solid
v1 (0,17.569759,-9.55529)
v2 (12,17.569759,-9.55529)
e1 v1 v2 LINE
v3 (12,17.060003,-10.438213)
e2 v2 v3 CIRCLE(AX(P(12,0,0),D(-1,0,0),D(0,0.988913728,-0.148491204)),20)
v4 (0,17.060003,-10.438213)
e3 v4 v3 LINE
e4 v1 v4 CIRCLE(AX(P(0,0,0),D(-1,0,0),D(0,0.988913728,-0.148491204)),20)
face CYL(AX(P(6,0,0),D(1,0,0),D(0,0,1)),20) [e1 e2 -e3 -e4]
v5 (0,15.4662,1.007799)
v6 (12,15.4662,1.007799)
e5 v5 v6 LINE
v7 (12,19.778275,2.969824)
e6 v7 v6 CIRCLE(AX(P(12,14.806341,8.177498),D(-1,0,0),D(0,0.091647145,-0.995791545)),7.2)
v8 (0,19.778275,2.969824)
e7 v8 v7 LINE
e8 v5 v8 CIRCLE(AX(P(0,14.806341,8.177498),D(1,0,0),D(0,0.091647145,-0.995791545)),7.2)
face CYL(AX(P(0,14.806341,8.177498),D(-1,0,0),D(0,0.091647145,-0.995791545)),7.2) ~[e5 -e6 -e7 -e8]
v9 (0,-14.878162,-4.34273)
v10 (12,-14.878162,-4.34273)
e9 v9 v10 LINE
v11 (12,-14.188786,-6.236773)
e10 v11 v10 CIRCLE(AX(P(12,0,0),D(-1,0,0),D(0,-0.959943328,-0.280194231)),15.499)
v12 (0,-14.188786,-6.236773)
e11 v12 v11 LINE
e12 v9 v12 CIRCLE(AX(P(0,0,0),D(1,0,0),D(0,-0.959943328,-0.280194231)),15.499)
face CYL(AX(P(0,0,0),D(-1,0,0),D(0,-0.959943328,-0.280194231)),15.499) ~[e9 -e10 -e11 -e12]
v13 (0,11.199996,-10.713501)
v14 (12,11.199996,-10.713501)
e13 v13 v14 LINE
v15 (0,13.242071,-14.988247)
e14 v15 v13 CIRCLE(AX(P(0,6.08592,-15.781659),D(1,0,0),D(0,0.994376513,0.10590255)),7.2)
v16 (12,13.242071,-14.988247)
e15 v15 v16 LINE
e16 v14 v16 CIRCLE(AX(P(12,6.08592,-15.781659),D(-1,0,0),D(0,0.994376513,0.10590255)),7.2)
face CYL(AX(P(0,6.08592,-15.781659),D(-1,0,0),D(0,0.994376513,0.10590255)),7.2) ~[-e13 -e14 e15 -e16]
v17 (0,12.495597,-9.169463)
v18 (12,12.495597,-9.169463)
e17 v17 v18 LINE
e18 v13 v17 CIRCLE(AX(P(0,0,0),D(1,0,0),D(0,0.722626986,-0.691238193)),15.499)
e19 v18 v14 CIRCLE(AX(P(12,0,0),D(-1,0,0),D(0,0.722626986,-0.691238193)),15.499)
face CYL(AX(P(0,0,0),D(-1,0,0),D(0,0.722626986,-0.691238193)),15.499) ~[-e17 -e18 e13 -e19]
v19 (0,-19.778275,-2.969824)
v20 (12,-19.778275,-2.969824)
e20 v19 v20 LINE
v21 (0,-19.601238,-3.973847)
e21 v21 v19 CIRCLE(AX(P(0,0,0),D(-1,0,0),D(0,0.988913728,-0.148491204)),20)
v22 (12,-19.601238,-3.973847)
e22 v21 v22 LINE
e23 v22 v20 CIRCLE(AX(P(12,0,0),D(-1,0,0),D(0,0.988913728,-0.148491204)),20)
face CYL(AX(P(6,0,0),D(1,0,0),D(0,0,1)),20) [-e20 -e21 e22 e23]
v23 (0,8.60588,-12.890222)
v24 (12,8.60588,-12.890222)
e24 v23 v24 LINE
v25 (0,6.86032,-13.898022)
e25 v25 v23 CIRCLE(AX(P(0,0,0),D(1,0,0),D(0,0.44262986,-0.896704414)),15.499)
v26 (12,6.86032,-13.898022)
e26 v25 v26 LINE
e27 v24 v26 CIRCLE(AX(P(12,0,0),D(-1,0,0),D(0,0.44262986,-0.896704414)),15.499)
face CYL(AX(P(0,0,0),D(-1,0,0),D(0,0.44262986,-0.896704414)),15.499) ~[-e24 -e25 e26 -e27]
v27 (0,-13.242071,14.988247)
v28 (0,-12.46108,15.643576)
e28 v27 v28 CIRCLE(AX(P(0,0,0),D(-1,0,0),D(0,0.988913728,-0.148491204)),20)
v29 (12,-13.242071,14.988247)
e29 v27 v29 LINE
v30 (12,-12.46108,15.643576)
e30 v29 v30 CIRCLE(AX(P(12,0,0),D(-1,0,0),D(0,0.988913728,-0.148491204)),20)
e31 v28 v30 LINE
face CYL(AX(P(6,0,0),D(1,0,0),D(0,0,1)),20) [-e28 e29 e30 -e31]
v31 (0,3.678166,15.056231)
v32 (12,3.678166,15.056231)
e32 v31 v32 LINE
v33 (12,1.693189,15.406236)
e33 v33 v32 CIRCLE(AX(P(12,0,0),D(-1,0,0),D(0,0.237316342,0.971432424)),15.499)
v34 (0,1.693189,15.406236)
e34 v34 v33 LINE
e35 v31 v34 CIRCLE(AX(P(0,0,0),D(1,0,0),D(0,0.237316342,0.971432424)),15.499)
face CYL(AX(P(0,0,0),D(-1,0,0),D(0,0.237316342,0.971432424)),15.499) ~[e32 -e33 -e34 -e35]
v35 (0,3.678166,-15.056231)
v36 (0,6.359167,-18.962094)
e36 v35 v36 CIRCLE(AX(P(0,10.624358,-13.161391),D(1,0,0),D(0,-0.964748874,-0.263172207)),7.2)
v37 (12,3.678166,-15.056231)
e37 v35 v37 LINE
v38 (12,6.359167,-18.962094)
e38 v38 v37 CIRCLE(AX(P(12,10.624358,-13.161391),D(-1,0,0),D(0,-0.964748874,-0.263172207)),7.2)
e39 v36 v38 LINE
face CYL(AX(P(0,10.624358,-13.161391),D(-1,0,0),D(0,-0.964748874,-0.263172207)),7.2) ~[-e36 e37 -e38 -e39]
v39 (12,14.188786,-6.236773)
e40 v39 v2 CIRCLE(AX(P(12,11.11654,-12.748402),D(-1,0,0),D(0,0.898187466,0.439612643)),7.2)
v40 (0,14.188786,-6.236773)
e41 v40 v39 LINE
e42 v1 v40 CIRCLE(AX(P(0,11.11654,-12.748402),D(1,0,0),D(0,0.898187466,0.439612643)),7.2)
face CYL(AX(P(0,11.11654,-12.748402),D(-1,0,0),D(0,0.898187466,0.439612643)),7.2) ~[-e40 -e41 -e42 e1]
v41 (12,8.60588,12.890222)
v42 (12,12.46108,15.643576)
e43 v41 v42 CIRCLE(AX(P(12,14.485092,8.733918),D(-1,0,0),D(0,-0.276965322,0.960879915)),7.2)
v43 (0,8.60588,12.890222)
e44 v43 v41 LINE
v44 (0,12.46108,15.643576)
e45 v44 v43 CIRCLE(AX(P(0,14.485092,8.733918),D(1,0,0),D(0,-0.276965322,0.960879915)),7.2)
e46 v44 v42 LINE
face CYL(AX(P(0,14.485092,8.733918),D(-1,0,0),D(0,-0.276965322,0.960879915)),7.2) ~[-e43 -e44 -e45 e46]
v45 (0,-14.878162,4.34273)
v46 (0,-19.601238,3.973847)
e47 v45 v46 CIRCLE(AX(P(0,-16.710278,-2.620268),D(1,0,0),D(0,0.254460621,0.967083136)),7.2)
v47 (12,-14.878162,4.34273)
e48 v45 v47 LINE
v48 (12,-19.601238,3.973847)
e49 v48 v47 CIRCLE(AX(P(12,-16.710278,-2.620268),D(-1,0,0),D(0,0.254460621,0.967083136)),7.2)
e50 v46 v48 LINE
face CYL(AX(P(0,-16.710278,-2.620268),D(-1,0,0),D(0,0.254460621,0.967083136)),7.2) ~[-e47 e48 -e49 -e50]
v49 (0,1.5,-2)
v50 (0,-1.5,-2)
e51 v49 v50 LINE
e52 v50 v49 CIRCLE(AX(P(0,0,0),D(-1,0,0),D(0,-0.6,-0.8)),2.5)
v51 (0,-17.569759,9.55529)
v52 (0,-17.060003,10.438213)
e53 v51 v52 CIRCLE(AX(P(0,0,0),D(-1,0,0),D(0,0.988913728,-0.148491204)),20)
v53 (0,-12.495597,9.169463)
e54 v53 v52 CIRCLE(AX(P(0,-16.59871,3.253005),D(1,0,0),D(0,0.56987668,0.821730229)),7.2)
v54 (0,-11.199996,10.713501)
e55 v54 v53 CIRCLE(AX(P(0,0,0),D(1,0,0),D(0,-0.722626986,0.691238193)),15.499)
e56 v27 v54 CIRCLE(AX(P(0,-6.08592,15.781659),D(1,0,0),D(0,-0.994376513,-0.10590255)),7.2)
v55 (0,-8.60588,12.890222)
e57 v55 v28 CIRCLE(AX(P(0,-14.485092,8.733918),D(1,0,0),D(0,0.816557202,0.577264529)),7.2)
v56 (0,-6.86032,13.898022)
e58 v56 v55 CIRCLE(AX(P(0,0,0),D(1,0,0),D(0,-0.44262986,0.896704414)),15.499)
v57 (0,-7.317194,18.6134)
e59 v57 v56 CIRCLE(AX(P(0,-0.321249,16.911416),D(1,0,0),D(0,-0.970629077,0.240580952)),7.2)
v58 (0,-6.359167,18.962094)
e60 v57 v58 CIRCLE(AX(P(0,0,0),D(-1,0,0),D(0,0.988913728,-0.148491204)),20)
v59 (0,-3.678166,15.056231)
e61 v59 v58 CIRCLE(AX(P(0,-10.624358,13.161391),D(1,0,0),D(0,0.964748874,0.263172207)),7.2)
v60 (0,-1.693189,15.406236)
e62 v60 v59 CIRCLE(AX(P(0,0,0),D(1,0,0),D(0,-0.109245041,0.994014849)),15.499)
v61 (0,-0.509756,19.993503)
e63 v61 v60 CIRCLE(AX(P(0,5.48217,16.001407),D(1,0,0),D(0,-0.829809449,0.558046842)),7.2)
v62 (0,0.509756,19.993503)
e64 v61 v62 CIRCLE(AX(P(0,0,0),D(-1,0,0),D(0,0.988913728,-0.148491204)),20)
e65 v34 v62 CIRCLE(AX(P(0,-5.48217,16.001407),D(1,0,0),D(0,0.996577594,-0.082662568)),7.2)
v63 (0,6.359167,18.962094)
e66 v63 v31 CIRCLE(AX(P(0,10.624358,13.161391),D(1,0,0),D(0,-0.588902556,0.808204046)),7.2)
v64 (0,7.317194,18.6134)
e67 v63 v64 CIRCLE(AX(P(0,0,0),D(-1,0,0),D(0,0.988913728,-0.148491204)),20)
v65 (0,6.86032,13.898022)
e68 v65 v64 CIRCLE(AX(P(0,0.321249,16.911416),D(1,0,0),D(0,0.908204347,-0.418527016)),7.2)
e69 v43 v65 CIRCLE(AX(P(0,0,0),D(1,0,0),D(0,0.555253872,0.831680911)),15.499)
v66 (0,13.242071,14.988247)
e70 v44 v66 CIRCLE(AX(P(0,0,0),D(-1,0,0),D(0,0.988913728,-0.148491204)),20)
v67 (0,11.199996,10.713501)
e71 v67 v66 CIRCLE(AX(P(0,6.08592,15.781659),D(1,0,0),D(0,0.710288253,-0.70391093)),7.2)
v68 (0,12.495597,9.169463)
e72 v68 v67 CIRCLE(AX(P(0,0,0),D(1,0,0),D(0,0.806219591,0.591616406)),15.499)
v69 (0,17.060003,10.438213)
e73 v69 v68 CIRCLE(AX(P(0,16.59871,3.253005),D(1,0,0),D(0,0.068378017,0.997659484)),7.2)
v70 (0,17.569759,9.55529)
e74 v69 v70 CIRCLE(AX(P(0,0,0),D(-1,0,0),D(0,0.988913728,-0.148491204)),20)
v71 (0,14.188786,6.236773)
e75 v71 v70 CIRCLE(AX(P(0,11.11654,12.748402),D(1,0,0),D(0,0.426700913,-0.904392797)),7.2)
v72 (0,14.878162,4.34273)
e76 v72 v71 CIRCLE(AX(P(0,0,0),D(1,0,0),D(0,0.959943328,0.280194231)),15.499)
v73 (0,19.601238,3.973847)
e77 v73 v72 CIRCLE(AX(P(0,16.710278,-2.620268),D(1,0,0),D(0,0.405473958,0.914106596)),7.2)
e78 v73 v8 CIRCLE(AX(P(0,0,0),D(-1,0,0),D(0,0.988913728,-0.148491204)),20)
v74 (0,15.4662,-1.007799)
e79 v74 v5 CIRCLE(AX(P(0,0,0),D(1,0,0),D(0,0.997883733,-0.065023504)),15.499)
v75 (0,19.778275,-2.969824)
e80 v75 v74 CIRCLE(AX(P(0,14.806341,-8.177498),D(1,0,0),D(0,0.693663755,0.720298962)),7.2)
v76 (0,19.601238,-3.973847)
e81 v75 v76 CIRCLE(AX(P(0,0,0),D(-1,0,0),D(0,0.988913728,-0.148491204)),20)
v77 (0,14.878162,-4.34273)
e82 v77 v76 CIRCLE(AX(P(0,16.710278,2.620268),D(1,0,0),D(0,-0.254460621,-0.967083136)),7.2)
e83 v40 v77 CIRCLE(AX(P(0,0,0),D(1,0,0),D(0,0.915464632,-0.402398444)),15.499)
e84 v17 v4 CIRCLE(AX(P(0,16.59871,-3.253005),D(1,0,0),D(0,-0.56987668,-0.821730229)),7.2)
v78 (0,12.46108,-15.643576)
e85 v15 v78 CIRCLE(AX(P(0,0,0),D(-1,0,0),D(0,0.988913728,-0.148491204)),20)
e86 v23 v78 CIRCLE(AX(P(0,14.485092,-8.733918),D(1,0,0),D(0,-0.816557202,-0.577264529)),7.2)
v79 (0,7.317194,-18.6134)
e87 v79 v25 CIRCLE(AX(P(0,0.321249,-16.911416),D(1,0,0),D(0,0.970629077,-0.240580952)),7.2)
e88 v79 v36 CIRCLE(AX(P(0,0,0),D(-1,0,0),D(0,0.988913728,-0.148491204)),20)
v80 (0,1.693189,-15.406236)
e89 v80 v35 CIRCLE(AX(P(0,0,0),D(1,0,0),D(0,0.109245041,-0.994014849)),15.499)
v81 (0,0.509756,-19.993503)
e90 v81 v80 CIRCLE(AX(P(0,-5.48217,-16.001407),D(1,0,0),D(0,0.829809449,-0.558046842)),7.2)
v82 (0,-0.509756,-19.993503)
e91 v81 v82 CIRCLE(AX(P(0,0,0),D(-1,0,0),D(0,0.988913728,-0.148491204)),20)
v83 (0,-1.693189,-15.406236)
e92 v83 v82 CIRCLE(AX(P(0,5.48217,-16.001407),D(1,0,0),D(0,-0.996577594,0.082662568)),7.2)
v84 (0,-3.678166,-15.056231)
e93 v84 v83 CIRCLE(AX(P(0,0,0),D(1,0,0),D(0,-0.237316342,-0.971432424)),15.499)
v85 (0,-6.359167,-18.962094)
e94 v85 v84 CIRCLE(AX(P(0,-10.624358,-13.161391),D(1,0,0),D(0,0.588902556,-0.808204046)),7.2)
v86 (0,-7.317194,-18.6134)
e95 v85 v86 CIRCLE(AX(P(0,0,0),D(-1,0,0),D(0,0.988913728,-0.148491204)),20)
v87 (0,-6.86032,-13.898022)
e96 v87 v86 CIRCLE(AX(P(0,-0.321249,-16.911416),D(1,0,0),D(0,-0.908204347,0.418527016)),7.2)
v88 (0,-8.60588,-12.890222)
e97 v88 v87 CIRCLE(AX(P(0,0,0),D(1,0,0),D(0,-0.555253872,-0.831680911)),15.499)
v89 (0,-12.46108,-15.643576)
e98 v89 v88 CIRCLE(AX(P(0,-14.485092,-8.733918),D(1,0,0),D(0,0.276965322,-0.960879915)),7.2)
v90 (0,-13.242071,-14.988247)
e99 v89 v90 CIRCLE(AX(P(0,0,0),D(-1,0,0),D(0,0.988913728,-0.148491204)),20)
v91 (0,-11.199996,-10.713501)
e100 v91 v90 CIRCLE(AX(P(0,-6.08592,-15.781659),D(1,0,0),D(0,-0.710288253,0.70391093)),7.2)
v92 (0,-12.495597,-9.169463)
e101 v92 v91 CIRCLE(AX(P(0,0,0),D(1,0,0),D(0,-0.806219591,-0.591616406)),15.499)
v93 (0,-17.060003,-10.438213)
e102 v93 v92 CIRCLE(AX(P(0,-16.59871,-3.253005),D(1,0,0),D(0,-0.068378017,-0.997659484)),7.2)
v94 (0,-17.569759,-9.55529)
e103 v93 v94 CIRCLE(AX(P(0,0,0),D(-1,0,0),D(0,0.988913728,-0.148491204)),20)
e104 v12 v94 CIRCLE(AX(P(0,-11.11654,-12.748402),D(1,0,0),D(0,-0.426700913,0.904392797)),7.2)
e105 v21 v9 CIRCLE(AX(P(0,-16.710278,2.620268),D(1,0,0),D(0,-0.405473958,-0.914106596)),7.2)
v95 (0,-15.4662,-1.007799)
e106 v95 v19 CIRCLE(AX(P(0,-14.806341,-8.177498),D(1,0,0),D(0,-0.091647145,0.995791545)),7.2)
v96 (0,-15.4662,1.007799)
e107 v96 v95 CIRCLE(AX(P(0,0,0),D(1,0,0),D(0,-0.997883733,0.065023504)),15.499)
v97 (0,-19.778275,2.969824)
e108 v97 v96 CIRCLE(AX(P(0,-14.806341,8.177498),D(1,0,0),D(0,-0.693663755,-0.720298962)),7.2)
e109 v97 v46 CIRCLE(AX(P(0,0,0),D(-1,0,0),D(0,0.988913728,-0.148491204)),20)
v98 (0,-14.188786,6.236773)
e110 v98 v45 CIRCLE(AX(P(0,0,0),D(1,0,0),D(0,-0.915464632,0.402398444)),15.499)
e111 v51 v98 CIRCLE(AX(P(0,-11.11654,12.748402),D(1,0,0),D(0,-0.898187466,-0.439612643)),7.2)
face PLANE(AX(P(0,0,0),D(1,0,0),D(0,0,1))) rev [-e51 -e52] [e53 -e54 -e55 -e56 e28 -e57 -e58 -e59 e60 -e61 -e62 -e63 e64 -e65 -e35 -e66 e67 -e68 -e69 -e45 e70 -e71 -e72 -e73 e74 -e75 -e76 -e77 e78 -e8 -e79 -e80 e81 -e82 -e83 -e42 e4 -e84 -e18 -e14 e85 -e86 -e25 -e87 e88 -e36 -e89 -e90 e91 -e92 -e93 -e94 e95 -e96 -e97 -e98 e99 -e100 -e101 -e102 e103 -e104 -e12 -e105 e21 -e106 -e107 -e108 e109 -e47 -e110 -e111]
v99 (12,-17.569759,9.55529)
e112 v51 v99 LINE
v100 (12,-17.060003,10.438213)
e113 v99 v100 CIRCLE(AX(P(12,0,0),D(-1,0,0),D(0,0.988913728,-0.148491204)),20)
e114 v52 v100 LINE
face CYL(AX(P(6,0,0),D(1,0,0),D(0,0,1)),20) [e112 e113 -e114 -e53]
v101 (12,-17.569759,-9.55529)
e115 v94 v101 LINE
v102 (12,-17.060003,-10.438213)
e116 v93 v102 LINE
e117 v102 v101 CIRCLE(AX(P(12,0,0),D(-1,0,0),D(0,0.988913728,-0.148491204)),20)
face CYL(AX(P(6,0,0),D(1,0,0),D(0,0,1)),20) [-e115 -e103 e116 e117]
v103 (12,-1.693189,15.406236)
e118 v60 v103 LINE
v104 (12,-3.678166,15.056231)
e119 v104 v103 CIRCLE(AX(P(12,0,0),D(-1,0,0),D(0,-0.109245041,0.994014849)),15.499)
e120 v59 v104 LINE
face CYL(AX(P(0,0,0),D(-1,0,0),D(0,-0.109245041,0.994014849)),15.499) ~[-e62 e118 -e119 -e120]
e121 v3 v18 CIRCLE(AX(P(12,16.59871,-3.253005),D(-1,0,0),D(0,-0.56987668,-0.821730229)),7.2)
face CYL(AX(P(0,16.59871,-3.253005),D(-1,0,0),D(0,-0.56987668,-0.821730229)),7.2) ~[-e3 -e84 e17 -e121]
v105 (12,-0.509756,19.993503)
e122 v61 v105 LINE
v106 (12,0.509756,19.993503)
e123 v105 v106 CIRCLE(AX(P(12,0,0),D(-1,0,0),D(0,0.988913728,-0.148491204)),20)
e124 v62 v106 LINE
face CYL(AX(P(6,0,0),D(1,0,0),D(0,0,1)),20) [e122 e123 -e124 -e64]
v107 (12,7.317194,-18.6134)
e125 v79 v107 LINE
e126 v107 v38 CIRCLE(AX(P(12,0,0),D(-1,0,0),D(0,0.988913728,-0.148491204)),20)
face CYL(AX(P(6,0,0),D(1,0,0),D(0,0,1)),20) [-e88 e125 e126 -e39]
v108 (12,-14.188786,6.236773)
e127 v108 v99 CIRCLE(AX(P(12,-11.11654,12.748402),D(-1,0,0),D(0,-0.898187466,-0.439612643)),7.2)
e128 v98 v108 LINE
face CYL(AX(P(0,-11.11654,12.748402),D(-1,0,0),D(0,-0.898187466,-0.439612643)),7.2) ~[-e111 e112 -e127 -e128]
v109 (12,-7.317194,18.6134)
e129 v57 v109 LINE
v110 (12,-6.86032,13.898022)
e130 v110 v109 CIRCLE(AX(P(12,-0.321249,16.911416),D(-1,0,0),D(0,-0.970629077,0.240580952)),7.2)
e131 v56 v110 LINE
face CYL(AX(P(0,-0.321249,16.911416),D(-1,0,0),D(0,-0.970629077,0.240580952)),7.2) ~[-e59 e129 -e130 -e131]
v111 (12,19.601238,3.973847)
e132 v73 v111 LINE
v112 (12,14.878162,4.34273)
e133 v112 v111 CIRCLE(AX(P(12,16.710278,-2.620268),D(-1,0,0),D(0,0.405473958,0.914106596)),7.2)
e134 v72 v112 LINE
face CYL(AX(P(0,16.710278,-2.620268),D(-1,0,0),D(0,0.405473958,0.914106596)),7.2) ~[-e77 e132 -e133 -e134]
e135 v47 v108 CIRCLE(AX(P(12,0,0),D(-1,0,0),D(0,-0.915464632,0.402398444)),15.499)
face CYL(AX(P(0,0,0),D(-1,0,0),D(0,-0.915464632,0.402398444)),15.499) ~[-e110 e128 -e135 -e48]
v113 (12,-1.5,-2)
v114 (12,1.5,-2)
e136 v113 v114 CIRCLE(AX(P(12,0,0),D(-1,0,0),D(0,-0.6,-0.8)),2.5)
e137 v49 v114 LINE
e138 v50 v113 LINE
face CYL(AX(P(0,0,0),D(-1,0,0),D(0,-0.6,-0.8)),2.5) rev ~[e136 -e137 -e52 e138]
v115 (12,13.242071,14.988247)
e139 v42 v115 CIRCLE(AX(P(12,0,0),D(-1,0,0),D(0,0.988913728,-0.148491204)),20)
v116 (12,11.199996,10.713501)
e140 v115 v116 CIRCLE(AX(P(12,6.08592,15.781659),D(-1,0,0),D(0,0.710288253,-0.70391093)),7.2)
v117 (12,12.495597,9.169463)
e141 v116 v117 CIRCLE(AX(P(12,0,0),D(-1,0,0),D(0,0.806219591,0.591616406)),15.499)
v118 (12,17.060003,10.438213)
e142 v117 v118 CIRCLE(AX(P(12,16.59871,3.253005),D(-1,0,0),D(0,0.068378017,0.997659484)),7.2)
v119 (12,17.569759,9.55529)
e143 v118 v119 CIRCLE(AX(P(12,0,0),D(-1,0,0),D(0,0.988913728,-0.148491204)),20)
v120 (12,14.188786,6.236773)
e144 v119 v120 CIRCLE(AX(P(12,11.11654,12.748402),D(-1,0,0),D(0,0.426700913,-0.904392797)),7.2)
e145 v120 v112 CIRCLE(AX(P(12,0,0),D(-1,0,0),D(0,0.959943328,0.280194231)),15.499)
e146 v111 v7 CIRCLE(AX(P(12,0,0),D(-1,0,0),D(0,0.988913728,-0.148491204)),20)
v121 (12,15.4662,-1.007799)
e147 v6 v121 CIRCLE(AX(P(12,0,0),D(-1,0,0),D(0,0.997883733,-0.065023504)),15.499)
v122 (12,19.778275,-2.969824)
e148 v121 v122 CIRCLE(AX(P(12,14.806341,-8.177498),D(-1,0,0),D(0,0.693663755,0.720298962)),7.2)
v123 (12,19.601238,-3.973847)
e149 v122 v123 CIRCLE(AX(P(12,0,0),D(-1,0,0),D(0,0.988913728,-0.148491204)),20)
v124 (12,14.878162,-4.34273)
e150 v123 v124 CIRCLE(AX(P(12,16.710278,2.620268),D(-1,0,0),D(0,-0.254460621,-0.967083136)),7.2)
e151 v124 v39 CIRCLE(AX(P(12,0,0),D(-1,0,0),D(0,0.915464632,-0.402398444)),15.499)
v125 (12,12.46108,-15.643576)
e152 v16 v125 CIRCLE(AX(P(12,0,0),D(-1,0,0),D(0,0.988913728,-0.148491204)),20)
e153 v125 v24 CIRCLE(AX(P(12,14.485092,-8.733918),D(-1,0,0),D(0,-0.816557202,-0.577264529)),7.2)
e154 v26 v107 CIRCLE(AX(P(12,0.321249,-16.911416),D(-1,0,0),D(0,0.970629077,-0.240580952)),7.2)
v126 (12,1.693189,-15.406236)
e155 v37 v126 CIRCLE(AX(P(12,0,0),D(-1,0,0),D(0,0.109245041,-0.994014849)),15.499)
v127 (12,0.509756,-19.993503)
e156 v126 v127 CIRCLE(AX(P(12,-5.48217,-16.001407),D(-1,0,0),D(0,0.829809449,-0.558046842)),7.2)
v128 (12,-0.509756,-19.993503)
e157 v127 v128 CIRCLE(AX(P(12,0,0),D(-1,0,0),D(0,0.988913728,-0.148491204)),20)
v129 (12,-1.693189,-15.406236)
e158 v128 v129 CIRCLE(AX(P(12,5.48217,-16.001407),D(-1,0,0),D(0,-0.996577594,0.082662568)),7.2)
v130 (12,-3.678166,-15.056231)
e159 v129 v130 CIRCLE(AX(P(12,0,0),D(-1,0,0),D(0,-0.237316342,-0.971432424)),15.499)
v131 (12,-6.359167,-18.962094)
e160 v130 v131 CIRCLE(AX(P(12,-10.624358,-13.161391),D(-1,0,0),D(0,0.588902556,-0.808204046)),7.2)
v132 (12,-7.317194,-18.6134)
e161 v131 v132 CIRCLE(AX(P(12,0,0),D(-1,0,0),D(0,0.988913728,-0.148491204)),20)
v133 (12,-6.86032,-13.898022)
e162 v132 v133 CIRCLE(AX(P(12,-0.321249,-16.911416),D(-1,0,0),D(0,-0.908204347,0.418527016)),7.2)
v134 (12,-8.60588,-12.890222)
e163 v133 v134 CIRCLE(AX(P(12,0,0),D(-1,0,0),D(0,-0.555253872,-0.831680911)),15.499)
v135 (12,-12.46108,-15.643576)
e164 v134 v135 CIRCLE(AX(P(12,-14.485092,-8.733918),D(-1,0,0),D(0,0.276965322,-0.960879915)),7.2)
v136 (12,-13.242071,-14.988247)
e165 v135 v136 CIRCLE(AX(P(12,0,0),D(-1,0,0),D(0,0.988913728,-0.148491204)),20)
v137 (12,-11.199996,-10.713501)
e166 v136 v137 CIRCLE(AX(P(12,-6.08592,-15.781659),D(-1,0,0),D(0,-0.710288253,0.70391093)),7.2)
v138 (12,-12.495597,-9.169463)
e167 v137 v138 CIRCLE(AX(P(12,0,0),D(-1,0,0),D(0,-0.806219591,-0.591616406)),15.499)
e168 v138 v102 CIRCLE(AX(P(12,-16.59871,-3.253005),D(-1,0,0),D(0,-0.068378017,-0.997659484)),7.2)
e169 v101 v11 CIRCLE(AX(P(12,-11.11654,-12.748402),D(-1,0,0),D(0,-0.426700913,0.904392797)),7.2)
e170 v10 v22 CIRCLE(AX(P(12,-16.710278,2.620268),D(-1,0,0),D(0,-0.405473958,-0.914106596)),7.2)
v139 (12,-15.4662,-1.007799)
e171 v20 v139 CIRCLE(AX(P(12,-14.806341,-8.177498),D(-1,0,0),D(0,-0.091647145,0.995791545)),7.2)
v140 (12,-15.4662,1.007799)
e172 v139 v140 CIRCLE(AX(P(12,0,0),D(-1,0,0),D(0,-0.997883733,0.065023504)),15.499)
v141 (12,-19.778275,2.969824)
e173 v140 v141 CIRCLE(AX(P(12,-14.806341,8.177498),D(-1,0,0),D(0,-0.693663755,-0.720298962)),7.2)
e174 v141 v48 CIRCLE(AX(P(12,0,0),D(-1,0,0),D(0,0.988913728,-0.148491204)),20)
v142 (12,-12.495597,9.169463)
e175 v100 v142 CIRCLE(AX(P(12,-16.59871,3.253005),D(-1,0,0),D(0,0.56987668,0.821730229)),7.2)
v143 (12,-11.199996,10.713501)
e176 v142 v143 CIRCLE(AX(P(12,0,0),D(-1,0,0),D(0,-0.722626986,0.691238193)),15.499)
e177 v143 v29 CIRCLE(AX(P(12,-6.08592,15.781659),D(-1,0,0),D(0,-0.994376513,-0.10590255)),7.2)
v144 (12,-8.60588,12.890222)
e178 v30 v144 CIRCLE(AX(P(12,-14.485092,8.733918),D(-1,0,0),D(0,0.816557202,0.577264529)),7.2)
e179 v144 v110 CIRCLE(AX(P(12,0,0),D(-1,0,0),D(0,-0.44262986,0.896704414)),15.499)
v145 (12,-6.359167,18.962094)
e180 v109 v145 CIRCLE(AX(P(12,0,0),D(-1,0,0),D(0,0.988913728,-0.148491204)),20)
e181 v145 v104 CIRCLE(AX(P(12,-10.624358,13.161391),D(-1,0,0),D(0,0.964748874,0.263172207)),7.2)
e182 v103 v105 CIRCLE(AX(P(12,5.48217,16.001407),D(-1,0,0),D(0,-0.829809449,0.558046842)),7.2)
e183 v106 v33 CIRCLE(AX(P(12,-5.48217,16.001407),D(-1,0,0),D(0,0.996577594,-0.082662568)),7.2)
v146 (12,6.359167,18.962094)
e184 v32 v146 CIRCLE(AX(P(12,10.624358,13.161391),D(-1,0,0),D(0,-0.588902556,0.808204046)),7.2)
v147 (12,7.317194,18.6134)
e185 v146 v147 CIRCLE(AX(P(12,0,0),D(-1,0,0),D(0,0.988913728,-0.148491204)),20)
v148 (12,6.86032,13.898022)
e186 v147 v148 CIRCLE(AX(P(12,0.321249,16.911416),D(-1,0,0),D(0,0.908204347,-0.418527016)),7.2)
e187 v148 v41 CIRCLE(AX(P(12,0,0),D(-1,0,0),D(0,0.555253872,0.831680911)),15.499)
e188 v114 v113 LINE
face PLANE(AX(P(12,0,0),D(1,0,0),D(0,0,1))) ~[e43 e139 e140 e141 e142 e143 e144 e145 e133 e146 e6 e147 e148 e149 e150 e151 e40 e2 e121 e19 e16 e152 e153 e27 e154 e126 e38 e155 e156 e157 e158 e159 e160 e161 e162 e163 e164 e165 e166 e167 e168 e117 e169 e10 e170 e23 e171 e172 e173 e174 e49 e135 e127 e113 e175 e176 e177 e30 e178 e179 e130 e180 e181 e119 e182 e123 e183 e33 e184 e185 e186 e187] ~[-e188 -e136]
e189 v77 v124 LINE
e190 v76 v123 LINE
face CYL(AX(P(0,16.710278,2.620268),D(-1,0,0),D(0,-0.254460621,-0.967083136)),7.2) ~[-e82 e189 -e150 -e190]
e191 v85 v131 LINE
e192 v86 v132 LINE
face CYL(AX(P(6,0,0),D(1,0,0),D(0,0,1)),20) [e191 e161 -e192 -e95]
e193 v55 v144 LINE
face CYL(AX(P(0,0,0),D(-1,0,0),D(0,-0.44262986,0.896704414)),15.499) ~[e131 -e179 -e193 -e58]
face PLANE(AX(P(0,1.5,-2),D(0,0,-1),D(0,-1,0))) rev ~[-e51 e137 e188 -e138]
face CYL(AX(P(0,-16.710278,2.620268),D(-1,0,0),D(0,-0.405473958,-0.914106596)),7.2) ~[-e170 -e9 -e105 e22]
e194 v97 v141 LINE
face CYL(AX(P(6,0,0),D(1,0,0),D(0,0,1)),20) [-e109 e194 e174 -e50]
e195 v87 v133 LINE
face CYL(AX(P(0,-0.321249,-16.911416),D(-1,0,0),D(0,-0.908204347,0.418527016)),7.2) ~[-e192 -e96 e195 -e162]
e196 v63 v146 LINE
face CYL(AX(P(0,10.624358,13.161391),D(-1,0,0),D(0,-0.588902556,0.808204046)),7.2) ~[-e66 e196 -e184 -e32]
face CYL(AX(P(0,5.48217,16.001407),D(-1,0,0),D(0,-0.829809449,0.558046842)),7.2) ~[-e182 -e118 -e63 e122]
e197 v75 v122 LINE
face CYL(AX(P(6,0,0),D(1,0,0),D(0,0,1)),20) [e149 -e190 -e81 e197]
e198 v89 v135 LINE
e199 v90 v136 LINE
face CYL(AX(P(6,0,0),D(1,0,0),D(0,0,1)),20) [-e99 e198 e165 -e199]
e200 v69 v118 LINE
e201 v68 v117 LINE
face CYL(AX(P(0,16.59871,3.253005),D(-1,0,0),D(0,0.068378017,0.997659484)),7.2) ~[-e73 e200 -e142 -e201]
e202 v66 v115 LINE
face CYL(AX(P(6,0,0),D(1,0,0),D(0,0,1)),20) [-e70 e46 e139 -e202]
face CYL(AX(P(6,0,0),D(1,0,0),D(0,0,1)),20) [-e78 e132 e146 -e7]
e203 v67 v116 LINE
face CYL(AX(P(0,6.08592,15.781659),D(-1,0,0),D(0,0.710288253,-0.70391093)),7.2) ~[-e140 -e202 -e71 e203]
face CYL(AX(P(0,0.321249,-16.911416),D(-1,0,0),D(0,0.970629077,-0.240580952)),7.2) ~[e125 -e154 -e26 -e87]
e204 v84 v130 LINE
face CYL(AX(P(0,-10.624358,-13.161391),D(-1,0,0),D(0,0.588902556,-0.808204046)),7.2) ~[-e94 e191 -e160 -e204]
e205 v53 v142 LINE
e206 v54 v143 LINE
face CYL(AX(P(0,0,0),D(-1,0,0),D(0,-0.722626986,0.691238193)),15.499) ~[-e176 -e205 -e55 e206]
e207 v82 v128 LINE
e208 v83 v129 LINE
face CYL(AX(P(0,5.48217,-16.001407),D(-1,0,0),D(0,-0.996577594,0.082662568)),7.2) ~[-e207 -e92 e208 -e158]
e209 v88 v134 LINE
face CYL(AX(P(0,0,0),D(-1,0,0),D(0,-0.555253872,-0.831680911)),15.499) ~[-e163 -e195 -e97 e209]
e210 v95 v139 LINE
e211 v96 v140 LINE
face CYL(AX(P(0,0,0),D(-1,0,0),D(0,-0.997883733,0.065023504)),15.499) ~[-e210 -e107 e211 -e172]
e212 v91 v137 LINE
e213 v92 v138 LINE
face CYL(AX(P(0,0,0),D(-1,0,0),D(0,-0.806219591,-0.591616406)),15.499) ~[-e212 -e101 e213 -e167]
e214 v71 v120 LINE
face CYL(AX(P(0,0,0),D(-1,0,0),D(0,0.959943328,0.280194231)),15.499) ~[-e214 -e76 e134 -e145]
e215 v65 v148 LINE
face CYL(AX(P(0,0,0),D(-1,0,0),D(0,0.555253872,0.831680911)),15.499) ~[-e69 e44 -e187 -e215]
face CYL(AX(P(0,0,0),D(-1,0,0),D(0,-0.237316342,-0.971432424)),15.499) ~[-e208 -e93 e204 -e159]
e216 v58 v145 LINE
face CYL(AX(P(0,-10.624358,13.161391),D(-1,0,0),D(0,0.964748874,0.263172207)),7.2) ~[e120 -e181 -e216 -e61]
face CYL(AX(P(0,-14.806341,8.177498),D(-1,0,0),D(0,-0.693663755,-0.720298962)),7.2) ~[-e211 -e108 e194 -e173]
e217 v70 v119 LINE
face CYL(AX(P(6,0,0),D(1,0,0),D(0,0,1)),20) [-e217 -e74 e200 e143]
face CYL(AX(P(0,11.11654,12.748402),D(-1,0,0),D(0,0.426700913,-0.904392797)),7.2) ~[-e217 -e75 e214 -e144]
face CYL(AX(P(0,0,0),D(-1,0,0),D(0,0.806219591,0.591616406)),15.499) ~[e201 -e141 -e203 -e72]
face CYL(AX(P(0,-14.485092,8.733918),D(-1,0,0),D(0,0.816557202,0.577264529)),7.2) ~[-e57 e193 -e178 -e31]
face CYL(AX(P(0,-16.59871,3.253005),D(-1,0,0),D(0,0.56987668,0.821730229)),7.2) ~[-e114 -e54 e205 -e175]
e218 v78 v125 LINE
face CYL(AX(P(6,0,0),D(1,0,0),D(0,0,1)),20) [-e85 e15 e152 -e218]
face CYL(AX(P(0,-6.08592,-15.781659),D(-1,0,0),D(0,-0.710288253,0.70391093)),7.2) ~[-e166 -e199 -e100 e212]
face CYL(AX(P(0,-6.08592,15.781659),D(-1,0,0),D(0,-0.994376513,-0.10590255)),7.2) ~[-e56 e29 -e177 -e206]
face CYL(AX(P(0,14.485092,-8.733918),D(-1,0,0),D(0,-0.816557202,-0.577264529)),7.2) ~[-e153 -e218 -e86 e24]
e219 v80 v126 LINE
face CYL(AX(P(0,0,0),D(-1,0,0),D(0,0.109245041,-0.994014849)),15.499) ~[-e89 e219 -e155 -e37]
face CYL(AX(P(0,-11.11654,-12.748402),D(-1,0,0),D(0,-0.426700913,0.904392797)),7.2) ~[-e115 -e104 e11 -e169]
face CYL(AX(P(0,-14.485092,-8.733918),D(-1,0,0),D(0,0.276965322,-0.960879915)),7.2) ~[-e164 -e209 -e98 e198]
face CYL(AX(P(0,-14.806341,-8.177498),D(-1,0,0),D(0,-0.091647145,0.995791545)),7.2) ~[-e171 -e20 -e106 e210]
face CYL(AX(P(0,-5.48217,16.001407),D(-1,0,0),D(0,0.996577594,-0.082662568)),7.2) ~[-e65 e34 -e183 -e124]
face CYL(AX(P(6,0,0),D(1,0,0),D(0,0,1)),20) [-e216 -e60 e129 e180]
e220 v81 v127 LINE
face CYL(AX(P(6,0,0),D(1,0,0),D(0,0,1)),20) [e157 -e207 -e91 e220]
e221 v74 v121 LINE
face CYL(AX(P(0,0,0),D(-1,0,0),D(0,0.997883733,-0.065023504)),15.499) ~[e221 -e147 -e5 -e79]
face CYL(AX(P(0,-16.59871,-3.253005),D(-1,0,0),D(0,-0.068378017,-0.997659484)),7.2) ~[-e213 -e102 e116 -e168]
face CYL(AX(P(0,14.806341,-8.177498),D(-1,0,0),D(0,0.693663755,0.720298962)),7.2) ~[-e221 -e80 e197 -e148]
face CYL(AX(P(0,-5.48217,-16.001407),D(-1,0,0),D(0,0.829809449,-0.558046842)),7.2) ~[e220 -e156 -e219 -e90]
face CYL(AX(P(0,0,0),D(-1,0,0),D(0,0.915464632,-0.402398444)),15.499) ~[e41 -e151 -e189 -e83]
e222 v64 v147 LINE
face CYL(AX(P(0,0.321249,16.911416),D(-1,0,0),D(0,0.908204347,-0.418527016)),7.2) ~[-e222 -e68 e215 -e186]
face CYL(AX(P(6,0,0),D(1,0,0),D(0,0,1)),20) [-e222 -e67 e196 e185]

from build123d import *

# Parameters (mm, degrees)
BASPROSKE_W              = 12
BASPROSKE_H              = 20
TOOTHCUT_DEPTH           = 31.724582991
TEETHCUTS_COUNT          = 18
TEETHCUTS_ANGLE          = 340
BORSKE_R                 = 0.1
BORE_DEPTH               = 50.0000508
TAGLIO_ESTRUSIONE1_DEPTH = 13


with BuildPart() as part:
    # BasProSke → Base-Revolve (revolve)
    with BuildSketch(Plane(origin=(0, 0, 0), x_dir=(1, 0, 0), z_dir=(0, 1, 0)), mode=Mode.PRIVATE) as base_revolve_sk:
        with Locations((6, 10)):
            Rectangle(BASPROSKE_W, BASPROSKE_H)
    revolve(base_revolve_sk.sketch.rotate(Axis((-10, 0, 0), (1, 0, 0)), 180), axis=Axis((-10, 0, 0), (1, 0, 0)))

    # TooCutSke → ToothCut (cut, through all)
    with BuildSketch(Plane(origin=(0, 0, 0), x_dir=(0, 0, -1), z_dir=(1, 0, 0))):
        with BuildLine():
            ThreePointArc((1.007799284, 15.466199973), (0, 15.499), (-1.007799284, 15.466199973))
            ThreePointArc((-1.007799284, 15.466199973), (-1.630454606, 17.802374148), (-2.991345877, 19.800719558))
            ThreePointArc((-2.991345877, 19.800719558), (0, 20.0254), (2.991345877, 19.800719558))
            ThreePointArc((2.991345877, 19.800719558), (1.630454606, 17.802374148), (1.007799284, 15.466199973))
        make_face()
    toothcut = extrude(amount=TOOTHCUT_DEPTH, mode=Mode.SUBTRACT)

    # TeethCuts: ToothCut ×18 about axis
    teethcuts_axis = Axis((-10, 0, 0), (1, 0, 0))
    for i in range(1, TEETHCUTS_COUNT):
        add(toothcut.rotate(teethcuts_axis, i * TEETHCUTS_ANGLE / (TEETHCUTS_COUNT - 1)), mode=Mode.SUBTRACT)

    # BorSke → Bore (cut, symmetric)
    with BuildSketch(Plane(origin=(0, 0, 0), x_dir=(0, 0, -1), z_dir=(1, 0, 0))):
        with Locations(Location((0, 0, 0), (0, 0, 180))):
            Circle(BORSKE_R)
    extrude(amount=BORE_DEPTH, both=True, mode=Mode.SUBTRACT)

    # Schizzo1 → Taglio-Estrusione1 (cut)
    with BuildSketch(Plane.ZY):
        with BuildLine():
            Line((-2, 1.5), (-2, -1.5))
            ThreePointArc((-2, -1.5), (2.5, 0), (-2, 1.5))
        make_face()
    extrude(amount=-TAGLIO_ESTRUSIONE1_DEPTH, mode=Mode.SUBTRACT)


solid = part.part
